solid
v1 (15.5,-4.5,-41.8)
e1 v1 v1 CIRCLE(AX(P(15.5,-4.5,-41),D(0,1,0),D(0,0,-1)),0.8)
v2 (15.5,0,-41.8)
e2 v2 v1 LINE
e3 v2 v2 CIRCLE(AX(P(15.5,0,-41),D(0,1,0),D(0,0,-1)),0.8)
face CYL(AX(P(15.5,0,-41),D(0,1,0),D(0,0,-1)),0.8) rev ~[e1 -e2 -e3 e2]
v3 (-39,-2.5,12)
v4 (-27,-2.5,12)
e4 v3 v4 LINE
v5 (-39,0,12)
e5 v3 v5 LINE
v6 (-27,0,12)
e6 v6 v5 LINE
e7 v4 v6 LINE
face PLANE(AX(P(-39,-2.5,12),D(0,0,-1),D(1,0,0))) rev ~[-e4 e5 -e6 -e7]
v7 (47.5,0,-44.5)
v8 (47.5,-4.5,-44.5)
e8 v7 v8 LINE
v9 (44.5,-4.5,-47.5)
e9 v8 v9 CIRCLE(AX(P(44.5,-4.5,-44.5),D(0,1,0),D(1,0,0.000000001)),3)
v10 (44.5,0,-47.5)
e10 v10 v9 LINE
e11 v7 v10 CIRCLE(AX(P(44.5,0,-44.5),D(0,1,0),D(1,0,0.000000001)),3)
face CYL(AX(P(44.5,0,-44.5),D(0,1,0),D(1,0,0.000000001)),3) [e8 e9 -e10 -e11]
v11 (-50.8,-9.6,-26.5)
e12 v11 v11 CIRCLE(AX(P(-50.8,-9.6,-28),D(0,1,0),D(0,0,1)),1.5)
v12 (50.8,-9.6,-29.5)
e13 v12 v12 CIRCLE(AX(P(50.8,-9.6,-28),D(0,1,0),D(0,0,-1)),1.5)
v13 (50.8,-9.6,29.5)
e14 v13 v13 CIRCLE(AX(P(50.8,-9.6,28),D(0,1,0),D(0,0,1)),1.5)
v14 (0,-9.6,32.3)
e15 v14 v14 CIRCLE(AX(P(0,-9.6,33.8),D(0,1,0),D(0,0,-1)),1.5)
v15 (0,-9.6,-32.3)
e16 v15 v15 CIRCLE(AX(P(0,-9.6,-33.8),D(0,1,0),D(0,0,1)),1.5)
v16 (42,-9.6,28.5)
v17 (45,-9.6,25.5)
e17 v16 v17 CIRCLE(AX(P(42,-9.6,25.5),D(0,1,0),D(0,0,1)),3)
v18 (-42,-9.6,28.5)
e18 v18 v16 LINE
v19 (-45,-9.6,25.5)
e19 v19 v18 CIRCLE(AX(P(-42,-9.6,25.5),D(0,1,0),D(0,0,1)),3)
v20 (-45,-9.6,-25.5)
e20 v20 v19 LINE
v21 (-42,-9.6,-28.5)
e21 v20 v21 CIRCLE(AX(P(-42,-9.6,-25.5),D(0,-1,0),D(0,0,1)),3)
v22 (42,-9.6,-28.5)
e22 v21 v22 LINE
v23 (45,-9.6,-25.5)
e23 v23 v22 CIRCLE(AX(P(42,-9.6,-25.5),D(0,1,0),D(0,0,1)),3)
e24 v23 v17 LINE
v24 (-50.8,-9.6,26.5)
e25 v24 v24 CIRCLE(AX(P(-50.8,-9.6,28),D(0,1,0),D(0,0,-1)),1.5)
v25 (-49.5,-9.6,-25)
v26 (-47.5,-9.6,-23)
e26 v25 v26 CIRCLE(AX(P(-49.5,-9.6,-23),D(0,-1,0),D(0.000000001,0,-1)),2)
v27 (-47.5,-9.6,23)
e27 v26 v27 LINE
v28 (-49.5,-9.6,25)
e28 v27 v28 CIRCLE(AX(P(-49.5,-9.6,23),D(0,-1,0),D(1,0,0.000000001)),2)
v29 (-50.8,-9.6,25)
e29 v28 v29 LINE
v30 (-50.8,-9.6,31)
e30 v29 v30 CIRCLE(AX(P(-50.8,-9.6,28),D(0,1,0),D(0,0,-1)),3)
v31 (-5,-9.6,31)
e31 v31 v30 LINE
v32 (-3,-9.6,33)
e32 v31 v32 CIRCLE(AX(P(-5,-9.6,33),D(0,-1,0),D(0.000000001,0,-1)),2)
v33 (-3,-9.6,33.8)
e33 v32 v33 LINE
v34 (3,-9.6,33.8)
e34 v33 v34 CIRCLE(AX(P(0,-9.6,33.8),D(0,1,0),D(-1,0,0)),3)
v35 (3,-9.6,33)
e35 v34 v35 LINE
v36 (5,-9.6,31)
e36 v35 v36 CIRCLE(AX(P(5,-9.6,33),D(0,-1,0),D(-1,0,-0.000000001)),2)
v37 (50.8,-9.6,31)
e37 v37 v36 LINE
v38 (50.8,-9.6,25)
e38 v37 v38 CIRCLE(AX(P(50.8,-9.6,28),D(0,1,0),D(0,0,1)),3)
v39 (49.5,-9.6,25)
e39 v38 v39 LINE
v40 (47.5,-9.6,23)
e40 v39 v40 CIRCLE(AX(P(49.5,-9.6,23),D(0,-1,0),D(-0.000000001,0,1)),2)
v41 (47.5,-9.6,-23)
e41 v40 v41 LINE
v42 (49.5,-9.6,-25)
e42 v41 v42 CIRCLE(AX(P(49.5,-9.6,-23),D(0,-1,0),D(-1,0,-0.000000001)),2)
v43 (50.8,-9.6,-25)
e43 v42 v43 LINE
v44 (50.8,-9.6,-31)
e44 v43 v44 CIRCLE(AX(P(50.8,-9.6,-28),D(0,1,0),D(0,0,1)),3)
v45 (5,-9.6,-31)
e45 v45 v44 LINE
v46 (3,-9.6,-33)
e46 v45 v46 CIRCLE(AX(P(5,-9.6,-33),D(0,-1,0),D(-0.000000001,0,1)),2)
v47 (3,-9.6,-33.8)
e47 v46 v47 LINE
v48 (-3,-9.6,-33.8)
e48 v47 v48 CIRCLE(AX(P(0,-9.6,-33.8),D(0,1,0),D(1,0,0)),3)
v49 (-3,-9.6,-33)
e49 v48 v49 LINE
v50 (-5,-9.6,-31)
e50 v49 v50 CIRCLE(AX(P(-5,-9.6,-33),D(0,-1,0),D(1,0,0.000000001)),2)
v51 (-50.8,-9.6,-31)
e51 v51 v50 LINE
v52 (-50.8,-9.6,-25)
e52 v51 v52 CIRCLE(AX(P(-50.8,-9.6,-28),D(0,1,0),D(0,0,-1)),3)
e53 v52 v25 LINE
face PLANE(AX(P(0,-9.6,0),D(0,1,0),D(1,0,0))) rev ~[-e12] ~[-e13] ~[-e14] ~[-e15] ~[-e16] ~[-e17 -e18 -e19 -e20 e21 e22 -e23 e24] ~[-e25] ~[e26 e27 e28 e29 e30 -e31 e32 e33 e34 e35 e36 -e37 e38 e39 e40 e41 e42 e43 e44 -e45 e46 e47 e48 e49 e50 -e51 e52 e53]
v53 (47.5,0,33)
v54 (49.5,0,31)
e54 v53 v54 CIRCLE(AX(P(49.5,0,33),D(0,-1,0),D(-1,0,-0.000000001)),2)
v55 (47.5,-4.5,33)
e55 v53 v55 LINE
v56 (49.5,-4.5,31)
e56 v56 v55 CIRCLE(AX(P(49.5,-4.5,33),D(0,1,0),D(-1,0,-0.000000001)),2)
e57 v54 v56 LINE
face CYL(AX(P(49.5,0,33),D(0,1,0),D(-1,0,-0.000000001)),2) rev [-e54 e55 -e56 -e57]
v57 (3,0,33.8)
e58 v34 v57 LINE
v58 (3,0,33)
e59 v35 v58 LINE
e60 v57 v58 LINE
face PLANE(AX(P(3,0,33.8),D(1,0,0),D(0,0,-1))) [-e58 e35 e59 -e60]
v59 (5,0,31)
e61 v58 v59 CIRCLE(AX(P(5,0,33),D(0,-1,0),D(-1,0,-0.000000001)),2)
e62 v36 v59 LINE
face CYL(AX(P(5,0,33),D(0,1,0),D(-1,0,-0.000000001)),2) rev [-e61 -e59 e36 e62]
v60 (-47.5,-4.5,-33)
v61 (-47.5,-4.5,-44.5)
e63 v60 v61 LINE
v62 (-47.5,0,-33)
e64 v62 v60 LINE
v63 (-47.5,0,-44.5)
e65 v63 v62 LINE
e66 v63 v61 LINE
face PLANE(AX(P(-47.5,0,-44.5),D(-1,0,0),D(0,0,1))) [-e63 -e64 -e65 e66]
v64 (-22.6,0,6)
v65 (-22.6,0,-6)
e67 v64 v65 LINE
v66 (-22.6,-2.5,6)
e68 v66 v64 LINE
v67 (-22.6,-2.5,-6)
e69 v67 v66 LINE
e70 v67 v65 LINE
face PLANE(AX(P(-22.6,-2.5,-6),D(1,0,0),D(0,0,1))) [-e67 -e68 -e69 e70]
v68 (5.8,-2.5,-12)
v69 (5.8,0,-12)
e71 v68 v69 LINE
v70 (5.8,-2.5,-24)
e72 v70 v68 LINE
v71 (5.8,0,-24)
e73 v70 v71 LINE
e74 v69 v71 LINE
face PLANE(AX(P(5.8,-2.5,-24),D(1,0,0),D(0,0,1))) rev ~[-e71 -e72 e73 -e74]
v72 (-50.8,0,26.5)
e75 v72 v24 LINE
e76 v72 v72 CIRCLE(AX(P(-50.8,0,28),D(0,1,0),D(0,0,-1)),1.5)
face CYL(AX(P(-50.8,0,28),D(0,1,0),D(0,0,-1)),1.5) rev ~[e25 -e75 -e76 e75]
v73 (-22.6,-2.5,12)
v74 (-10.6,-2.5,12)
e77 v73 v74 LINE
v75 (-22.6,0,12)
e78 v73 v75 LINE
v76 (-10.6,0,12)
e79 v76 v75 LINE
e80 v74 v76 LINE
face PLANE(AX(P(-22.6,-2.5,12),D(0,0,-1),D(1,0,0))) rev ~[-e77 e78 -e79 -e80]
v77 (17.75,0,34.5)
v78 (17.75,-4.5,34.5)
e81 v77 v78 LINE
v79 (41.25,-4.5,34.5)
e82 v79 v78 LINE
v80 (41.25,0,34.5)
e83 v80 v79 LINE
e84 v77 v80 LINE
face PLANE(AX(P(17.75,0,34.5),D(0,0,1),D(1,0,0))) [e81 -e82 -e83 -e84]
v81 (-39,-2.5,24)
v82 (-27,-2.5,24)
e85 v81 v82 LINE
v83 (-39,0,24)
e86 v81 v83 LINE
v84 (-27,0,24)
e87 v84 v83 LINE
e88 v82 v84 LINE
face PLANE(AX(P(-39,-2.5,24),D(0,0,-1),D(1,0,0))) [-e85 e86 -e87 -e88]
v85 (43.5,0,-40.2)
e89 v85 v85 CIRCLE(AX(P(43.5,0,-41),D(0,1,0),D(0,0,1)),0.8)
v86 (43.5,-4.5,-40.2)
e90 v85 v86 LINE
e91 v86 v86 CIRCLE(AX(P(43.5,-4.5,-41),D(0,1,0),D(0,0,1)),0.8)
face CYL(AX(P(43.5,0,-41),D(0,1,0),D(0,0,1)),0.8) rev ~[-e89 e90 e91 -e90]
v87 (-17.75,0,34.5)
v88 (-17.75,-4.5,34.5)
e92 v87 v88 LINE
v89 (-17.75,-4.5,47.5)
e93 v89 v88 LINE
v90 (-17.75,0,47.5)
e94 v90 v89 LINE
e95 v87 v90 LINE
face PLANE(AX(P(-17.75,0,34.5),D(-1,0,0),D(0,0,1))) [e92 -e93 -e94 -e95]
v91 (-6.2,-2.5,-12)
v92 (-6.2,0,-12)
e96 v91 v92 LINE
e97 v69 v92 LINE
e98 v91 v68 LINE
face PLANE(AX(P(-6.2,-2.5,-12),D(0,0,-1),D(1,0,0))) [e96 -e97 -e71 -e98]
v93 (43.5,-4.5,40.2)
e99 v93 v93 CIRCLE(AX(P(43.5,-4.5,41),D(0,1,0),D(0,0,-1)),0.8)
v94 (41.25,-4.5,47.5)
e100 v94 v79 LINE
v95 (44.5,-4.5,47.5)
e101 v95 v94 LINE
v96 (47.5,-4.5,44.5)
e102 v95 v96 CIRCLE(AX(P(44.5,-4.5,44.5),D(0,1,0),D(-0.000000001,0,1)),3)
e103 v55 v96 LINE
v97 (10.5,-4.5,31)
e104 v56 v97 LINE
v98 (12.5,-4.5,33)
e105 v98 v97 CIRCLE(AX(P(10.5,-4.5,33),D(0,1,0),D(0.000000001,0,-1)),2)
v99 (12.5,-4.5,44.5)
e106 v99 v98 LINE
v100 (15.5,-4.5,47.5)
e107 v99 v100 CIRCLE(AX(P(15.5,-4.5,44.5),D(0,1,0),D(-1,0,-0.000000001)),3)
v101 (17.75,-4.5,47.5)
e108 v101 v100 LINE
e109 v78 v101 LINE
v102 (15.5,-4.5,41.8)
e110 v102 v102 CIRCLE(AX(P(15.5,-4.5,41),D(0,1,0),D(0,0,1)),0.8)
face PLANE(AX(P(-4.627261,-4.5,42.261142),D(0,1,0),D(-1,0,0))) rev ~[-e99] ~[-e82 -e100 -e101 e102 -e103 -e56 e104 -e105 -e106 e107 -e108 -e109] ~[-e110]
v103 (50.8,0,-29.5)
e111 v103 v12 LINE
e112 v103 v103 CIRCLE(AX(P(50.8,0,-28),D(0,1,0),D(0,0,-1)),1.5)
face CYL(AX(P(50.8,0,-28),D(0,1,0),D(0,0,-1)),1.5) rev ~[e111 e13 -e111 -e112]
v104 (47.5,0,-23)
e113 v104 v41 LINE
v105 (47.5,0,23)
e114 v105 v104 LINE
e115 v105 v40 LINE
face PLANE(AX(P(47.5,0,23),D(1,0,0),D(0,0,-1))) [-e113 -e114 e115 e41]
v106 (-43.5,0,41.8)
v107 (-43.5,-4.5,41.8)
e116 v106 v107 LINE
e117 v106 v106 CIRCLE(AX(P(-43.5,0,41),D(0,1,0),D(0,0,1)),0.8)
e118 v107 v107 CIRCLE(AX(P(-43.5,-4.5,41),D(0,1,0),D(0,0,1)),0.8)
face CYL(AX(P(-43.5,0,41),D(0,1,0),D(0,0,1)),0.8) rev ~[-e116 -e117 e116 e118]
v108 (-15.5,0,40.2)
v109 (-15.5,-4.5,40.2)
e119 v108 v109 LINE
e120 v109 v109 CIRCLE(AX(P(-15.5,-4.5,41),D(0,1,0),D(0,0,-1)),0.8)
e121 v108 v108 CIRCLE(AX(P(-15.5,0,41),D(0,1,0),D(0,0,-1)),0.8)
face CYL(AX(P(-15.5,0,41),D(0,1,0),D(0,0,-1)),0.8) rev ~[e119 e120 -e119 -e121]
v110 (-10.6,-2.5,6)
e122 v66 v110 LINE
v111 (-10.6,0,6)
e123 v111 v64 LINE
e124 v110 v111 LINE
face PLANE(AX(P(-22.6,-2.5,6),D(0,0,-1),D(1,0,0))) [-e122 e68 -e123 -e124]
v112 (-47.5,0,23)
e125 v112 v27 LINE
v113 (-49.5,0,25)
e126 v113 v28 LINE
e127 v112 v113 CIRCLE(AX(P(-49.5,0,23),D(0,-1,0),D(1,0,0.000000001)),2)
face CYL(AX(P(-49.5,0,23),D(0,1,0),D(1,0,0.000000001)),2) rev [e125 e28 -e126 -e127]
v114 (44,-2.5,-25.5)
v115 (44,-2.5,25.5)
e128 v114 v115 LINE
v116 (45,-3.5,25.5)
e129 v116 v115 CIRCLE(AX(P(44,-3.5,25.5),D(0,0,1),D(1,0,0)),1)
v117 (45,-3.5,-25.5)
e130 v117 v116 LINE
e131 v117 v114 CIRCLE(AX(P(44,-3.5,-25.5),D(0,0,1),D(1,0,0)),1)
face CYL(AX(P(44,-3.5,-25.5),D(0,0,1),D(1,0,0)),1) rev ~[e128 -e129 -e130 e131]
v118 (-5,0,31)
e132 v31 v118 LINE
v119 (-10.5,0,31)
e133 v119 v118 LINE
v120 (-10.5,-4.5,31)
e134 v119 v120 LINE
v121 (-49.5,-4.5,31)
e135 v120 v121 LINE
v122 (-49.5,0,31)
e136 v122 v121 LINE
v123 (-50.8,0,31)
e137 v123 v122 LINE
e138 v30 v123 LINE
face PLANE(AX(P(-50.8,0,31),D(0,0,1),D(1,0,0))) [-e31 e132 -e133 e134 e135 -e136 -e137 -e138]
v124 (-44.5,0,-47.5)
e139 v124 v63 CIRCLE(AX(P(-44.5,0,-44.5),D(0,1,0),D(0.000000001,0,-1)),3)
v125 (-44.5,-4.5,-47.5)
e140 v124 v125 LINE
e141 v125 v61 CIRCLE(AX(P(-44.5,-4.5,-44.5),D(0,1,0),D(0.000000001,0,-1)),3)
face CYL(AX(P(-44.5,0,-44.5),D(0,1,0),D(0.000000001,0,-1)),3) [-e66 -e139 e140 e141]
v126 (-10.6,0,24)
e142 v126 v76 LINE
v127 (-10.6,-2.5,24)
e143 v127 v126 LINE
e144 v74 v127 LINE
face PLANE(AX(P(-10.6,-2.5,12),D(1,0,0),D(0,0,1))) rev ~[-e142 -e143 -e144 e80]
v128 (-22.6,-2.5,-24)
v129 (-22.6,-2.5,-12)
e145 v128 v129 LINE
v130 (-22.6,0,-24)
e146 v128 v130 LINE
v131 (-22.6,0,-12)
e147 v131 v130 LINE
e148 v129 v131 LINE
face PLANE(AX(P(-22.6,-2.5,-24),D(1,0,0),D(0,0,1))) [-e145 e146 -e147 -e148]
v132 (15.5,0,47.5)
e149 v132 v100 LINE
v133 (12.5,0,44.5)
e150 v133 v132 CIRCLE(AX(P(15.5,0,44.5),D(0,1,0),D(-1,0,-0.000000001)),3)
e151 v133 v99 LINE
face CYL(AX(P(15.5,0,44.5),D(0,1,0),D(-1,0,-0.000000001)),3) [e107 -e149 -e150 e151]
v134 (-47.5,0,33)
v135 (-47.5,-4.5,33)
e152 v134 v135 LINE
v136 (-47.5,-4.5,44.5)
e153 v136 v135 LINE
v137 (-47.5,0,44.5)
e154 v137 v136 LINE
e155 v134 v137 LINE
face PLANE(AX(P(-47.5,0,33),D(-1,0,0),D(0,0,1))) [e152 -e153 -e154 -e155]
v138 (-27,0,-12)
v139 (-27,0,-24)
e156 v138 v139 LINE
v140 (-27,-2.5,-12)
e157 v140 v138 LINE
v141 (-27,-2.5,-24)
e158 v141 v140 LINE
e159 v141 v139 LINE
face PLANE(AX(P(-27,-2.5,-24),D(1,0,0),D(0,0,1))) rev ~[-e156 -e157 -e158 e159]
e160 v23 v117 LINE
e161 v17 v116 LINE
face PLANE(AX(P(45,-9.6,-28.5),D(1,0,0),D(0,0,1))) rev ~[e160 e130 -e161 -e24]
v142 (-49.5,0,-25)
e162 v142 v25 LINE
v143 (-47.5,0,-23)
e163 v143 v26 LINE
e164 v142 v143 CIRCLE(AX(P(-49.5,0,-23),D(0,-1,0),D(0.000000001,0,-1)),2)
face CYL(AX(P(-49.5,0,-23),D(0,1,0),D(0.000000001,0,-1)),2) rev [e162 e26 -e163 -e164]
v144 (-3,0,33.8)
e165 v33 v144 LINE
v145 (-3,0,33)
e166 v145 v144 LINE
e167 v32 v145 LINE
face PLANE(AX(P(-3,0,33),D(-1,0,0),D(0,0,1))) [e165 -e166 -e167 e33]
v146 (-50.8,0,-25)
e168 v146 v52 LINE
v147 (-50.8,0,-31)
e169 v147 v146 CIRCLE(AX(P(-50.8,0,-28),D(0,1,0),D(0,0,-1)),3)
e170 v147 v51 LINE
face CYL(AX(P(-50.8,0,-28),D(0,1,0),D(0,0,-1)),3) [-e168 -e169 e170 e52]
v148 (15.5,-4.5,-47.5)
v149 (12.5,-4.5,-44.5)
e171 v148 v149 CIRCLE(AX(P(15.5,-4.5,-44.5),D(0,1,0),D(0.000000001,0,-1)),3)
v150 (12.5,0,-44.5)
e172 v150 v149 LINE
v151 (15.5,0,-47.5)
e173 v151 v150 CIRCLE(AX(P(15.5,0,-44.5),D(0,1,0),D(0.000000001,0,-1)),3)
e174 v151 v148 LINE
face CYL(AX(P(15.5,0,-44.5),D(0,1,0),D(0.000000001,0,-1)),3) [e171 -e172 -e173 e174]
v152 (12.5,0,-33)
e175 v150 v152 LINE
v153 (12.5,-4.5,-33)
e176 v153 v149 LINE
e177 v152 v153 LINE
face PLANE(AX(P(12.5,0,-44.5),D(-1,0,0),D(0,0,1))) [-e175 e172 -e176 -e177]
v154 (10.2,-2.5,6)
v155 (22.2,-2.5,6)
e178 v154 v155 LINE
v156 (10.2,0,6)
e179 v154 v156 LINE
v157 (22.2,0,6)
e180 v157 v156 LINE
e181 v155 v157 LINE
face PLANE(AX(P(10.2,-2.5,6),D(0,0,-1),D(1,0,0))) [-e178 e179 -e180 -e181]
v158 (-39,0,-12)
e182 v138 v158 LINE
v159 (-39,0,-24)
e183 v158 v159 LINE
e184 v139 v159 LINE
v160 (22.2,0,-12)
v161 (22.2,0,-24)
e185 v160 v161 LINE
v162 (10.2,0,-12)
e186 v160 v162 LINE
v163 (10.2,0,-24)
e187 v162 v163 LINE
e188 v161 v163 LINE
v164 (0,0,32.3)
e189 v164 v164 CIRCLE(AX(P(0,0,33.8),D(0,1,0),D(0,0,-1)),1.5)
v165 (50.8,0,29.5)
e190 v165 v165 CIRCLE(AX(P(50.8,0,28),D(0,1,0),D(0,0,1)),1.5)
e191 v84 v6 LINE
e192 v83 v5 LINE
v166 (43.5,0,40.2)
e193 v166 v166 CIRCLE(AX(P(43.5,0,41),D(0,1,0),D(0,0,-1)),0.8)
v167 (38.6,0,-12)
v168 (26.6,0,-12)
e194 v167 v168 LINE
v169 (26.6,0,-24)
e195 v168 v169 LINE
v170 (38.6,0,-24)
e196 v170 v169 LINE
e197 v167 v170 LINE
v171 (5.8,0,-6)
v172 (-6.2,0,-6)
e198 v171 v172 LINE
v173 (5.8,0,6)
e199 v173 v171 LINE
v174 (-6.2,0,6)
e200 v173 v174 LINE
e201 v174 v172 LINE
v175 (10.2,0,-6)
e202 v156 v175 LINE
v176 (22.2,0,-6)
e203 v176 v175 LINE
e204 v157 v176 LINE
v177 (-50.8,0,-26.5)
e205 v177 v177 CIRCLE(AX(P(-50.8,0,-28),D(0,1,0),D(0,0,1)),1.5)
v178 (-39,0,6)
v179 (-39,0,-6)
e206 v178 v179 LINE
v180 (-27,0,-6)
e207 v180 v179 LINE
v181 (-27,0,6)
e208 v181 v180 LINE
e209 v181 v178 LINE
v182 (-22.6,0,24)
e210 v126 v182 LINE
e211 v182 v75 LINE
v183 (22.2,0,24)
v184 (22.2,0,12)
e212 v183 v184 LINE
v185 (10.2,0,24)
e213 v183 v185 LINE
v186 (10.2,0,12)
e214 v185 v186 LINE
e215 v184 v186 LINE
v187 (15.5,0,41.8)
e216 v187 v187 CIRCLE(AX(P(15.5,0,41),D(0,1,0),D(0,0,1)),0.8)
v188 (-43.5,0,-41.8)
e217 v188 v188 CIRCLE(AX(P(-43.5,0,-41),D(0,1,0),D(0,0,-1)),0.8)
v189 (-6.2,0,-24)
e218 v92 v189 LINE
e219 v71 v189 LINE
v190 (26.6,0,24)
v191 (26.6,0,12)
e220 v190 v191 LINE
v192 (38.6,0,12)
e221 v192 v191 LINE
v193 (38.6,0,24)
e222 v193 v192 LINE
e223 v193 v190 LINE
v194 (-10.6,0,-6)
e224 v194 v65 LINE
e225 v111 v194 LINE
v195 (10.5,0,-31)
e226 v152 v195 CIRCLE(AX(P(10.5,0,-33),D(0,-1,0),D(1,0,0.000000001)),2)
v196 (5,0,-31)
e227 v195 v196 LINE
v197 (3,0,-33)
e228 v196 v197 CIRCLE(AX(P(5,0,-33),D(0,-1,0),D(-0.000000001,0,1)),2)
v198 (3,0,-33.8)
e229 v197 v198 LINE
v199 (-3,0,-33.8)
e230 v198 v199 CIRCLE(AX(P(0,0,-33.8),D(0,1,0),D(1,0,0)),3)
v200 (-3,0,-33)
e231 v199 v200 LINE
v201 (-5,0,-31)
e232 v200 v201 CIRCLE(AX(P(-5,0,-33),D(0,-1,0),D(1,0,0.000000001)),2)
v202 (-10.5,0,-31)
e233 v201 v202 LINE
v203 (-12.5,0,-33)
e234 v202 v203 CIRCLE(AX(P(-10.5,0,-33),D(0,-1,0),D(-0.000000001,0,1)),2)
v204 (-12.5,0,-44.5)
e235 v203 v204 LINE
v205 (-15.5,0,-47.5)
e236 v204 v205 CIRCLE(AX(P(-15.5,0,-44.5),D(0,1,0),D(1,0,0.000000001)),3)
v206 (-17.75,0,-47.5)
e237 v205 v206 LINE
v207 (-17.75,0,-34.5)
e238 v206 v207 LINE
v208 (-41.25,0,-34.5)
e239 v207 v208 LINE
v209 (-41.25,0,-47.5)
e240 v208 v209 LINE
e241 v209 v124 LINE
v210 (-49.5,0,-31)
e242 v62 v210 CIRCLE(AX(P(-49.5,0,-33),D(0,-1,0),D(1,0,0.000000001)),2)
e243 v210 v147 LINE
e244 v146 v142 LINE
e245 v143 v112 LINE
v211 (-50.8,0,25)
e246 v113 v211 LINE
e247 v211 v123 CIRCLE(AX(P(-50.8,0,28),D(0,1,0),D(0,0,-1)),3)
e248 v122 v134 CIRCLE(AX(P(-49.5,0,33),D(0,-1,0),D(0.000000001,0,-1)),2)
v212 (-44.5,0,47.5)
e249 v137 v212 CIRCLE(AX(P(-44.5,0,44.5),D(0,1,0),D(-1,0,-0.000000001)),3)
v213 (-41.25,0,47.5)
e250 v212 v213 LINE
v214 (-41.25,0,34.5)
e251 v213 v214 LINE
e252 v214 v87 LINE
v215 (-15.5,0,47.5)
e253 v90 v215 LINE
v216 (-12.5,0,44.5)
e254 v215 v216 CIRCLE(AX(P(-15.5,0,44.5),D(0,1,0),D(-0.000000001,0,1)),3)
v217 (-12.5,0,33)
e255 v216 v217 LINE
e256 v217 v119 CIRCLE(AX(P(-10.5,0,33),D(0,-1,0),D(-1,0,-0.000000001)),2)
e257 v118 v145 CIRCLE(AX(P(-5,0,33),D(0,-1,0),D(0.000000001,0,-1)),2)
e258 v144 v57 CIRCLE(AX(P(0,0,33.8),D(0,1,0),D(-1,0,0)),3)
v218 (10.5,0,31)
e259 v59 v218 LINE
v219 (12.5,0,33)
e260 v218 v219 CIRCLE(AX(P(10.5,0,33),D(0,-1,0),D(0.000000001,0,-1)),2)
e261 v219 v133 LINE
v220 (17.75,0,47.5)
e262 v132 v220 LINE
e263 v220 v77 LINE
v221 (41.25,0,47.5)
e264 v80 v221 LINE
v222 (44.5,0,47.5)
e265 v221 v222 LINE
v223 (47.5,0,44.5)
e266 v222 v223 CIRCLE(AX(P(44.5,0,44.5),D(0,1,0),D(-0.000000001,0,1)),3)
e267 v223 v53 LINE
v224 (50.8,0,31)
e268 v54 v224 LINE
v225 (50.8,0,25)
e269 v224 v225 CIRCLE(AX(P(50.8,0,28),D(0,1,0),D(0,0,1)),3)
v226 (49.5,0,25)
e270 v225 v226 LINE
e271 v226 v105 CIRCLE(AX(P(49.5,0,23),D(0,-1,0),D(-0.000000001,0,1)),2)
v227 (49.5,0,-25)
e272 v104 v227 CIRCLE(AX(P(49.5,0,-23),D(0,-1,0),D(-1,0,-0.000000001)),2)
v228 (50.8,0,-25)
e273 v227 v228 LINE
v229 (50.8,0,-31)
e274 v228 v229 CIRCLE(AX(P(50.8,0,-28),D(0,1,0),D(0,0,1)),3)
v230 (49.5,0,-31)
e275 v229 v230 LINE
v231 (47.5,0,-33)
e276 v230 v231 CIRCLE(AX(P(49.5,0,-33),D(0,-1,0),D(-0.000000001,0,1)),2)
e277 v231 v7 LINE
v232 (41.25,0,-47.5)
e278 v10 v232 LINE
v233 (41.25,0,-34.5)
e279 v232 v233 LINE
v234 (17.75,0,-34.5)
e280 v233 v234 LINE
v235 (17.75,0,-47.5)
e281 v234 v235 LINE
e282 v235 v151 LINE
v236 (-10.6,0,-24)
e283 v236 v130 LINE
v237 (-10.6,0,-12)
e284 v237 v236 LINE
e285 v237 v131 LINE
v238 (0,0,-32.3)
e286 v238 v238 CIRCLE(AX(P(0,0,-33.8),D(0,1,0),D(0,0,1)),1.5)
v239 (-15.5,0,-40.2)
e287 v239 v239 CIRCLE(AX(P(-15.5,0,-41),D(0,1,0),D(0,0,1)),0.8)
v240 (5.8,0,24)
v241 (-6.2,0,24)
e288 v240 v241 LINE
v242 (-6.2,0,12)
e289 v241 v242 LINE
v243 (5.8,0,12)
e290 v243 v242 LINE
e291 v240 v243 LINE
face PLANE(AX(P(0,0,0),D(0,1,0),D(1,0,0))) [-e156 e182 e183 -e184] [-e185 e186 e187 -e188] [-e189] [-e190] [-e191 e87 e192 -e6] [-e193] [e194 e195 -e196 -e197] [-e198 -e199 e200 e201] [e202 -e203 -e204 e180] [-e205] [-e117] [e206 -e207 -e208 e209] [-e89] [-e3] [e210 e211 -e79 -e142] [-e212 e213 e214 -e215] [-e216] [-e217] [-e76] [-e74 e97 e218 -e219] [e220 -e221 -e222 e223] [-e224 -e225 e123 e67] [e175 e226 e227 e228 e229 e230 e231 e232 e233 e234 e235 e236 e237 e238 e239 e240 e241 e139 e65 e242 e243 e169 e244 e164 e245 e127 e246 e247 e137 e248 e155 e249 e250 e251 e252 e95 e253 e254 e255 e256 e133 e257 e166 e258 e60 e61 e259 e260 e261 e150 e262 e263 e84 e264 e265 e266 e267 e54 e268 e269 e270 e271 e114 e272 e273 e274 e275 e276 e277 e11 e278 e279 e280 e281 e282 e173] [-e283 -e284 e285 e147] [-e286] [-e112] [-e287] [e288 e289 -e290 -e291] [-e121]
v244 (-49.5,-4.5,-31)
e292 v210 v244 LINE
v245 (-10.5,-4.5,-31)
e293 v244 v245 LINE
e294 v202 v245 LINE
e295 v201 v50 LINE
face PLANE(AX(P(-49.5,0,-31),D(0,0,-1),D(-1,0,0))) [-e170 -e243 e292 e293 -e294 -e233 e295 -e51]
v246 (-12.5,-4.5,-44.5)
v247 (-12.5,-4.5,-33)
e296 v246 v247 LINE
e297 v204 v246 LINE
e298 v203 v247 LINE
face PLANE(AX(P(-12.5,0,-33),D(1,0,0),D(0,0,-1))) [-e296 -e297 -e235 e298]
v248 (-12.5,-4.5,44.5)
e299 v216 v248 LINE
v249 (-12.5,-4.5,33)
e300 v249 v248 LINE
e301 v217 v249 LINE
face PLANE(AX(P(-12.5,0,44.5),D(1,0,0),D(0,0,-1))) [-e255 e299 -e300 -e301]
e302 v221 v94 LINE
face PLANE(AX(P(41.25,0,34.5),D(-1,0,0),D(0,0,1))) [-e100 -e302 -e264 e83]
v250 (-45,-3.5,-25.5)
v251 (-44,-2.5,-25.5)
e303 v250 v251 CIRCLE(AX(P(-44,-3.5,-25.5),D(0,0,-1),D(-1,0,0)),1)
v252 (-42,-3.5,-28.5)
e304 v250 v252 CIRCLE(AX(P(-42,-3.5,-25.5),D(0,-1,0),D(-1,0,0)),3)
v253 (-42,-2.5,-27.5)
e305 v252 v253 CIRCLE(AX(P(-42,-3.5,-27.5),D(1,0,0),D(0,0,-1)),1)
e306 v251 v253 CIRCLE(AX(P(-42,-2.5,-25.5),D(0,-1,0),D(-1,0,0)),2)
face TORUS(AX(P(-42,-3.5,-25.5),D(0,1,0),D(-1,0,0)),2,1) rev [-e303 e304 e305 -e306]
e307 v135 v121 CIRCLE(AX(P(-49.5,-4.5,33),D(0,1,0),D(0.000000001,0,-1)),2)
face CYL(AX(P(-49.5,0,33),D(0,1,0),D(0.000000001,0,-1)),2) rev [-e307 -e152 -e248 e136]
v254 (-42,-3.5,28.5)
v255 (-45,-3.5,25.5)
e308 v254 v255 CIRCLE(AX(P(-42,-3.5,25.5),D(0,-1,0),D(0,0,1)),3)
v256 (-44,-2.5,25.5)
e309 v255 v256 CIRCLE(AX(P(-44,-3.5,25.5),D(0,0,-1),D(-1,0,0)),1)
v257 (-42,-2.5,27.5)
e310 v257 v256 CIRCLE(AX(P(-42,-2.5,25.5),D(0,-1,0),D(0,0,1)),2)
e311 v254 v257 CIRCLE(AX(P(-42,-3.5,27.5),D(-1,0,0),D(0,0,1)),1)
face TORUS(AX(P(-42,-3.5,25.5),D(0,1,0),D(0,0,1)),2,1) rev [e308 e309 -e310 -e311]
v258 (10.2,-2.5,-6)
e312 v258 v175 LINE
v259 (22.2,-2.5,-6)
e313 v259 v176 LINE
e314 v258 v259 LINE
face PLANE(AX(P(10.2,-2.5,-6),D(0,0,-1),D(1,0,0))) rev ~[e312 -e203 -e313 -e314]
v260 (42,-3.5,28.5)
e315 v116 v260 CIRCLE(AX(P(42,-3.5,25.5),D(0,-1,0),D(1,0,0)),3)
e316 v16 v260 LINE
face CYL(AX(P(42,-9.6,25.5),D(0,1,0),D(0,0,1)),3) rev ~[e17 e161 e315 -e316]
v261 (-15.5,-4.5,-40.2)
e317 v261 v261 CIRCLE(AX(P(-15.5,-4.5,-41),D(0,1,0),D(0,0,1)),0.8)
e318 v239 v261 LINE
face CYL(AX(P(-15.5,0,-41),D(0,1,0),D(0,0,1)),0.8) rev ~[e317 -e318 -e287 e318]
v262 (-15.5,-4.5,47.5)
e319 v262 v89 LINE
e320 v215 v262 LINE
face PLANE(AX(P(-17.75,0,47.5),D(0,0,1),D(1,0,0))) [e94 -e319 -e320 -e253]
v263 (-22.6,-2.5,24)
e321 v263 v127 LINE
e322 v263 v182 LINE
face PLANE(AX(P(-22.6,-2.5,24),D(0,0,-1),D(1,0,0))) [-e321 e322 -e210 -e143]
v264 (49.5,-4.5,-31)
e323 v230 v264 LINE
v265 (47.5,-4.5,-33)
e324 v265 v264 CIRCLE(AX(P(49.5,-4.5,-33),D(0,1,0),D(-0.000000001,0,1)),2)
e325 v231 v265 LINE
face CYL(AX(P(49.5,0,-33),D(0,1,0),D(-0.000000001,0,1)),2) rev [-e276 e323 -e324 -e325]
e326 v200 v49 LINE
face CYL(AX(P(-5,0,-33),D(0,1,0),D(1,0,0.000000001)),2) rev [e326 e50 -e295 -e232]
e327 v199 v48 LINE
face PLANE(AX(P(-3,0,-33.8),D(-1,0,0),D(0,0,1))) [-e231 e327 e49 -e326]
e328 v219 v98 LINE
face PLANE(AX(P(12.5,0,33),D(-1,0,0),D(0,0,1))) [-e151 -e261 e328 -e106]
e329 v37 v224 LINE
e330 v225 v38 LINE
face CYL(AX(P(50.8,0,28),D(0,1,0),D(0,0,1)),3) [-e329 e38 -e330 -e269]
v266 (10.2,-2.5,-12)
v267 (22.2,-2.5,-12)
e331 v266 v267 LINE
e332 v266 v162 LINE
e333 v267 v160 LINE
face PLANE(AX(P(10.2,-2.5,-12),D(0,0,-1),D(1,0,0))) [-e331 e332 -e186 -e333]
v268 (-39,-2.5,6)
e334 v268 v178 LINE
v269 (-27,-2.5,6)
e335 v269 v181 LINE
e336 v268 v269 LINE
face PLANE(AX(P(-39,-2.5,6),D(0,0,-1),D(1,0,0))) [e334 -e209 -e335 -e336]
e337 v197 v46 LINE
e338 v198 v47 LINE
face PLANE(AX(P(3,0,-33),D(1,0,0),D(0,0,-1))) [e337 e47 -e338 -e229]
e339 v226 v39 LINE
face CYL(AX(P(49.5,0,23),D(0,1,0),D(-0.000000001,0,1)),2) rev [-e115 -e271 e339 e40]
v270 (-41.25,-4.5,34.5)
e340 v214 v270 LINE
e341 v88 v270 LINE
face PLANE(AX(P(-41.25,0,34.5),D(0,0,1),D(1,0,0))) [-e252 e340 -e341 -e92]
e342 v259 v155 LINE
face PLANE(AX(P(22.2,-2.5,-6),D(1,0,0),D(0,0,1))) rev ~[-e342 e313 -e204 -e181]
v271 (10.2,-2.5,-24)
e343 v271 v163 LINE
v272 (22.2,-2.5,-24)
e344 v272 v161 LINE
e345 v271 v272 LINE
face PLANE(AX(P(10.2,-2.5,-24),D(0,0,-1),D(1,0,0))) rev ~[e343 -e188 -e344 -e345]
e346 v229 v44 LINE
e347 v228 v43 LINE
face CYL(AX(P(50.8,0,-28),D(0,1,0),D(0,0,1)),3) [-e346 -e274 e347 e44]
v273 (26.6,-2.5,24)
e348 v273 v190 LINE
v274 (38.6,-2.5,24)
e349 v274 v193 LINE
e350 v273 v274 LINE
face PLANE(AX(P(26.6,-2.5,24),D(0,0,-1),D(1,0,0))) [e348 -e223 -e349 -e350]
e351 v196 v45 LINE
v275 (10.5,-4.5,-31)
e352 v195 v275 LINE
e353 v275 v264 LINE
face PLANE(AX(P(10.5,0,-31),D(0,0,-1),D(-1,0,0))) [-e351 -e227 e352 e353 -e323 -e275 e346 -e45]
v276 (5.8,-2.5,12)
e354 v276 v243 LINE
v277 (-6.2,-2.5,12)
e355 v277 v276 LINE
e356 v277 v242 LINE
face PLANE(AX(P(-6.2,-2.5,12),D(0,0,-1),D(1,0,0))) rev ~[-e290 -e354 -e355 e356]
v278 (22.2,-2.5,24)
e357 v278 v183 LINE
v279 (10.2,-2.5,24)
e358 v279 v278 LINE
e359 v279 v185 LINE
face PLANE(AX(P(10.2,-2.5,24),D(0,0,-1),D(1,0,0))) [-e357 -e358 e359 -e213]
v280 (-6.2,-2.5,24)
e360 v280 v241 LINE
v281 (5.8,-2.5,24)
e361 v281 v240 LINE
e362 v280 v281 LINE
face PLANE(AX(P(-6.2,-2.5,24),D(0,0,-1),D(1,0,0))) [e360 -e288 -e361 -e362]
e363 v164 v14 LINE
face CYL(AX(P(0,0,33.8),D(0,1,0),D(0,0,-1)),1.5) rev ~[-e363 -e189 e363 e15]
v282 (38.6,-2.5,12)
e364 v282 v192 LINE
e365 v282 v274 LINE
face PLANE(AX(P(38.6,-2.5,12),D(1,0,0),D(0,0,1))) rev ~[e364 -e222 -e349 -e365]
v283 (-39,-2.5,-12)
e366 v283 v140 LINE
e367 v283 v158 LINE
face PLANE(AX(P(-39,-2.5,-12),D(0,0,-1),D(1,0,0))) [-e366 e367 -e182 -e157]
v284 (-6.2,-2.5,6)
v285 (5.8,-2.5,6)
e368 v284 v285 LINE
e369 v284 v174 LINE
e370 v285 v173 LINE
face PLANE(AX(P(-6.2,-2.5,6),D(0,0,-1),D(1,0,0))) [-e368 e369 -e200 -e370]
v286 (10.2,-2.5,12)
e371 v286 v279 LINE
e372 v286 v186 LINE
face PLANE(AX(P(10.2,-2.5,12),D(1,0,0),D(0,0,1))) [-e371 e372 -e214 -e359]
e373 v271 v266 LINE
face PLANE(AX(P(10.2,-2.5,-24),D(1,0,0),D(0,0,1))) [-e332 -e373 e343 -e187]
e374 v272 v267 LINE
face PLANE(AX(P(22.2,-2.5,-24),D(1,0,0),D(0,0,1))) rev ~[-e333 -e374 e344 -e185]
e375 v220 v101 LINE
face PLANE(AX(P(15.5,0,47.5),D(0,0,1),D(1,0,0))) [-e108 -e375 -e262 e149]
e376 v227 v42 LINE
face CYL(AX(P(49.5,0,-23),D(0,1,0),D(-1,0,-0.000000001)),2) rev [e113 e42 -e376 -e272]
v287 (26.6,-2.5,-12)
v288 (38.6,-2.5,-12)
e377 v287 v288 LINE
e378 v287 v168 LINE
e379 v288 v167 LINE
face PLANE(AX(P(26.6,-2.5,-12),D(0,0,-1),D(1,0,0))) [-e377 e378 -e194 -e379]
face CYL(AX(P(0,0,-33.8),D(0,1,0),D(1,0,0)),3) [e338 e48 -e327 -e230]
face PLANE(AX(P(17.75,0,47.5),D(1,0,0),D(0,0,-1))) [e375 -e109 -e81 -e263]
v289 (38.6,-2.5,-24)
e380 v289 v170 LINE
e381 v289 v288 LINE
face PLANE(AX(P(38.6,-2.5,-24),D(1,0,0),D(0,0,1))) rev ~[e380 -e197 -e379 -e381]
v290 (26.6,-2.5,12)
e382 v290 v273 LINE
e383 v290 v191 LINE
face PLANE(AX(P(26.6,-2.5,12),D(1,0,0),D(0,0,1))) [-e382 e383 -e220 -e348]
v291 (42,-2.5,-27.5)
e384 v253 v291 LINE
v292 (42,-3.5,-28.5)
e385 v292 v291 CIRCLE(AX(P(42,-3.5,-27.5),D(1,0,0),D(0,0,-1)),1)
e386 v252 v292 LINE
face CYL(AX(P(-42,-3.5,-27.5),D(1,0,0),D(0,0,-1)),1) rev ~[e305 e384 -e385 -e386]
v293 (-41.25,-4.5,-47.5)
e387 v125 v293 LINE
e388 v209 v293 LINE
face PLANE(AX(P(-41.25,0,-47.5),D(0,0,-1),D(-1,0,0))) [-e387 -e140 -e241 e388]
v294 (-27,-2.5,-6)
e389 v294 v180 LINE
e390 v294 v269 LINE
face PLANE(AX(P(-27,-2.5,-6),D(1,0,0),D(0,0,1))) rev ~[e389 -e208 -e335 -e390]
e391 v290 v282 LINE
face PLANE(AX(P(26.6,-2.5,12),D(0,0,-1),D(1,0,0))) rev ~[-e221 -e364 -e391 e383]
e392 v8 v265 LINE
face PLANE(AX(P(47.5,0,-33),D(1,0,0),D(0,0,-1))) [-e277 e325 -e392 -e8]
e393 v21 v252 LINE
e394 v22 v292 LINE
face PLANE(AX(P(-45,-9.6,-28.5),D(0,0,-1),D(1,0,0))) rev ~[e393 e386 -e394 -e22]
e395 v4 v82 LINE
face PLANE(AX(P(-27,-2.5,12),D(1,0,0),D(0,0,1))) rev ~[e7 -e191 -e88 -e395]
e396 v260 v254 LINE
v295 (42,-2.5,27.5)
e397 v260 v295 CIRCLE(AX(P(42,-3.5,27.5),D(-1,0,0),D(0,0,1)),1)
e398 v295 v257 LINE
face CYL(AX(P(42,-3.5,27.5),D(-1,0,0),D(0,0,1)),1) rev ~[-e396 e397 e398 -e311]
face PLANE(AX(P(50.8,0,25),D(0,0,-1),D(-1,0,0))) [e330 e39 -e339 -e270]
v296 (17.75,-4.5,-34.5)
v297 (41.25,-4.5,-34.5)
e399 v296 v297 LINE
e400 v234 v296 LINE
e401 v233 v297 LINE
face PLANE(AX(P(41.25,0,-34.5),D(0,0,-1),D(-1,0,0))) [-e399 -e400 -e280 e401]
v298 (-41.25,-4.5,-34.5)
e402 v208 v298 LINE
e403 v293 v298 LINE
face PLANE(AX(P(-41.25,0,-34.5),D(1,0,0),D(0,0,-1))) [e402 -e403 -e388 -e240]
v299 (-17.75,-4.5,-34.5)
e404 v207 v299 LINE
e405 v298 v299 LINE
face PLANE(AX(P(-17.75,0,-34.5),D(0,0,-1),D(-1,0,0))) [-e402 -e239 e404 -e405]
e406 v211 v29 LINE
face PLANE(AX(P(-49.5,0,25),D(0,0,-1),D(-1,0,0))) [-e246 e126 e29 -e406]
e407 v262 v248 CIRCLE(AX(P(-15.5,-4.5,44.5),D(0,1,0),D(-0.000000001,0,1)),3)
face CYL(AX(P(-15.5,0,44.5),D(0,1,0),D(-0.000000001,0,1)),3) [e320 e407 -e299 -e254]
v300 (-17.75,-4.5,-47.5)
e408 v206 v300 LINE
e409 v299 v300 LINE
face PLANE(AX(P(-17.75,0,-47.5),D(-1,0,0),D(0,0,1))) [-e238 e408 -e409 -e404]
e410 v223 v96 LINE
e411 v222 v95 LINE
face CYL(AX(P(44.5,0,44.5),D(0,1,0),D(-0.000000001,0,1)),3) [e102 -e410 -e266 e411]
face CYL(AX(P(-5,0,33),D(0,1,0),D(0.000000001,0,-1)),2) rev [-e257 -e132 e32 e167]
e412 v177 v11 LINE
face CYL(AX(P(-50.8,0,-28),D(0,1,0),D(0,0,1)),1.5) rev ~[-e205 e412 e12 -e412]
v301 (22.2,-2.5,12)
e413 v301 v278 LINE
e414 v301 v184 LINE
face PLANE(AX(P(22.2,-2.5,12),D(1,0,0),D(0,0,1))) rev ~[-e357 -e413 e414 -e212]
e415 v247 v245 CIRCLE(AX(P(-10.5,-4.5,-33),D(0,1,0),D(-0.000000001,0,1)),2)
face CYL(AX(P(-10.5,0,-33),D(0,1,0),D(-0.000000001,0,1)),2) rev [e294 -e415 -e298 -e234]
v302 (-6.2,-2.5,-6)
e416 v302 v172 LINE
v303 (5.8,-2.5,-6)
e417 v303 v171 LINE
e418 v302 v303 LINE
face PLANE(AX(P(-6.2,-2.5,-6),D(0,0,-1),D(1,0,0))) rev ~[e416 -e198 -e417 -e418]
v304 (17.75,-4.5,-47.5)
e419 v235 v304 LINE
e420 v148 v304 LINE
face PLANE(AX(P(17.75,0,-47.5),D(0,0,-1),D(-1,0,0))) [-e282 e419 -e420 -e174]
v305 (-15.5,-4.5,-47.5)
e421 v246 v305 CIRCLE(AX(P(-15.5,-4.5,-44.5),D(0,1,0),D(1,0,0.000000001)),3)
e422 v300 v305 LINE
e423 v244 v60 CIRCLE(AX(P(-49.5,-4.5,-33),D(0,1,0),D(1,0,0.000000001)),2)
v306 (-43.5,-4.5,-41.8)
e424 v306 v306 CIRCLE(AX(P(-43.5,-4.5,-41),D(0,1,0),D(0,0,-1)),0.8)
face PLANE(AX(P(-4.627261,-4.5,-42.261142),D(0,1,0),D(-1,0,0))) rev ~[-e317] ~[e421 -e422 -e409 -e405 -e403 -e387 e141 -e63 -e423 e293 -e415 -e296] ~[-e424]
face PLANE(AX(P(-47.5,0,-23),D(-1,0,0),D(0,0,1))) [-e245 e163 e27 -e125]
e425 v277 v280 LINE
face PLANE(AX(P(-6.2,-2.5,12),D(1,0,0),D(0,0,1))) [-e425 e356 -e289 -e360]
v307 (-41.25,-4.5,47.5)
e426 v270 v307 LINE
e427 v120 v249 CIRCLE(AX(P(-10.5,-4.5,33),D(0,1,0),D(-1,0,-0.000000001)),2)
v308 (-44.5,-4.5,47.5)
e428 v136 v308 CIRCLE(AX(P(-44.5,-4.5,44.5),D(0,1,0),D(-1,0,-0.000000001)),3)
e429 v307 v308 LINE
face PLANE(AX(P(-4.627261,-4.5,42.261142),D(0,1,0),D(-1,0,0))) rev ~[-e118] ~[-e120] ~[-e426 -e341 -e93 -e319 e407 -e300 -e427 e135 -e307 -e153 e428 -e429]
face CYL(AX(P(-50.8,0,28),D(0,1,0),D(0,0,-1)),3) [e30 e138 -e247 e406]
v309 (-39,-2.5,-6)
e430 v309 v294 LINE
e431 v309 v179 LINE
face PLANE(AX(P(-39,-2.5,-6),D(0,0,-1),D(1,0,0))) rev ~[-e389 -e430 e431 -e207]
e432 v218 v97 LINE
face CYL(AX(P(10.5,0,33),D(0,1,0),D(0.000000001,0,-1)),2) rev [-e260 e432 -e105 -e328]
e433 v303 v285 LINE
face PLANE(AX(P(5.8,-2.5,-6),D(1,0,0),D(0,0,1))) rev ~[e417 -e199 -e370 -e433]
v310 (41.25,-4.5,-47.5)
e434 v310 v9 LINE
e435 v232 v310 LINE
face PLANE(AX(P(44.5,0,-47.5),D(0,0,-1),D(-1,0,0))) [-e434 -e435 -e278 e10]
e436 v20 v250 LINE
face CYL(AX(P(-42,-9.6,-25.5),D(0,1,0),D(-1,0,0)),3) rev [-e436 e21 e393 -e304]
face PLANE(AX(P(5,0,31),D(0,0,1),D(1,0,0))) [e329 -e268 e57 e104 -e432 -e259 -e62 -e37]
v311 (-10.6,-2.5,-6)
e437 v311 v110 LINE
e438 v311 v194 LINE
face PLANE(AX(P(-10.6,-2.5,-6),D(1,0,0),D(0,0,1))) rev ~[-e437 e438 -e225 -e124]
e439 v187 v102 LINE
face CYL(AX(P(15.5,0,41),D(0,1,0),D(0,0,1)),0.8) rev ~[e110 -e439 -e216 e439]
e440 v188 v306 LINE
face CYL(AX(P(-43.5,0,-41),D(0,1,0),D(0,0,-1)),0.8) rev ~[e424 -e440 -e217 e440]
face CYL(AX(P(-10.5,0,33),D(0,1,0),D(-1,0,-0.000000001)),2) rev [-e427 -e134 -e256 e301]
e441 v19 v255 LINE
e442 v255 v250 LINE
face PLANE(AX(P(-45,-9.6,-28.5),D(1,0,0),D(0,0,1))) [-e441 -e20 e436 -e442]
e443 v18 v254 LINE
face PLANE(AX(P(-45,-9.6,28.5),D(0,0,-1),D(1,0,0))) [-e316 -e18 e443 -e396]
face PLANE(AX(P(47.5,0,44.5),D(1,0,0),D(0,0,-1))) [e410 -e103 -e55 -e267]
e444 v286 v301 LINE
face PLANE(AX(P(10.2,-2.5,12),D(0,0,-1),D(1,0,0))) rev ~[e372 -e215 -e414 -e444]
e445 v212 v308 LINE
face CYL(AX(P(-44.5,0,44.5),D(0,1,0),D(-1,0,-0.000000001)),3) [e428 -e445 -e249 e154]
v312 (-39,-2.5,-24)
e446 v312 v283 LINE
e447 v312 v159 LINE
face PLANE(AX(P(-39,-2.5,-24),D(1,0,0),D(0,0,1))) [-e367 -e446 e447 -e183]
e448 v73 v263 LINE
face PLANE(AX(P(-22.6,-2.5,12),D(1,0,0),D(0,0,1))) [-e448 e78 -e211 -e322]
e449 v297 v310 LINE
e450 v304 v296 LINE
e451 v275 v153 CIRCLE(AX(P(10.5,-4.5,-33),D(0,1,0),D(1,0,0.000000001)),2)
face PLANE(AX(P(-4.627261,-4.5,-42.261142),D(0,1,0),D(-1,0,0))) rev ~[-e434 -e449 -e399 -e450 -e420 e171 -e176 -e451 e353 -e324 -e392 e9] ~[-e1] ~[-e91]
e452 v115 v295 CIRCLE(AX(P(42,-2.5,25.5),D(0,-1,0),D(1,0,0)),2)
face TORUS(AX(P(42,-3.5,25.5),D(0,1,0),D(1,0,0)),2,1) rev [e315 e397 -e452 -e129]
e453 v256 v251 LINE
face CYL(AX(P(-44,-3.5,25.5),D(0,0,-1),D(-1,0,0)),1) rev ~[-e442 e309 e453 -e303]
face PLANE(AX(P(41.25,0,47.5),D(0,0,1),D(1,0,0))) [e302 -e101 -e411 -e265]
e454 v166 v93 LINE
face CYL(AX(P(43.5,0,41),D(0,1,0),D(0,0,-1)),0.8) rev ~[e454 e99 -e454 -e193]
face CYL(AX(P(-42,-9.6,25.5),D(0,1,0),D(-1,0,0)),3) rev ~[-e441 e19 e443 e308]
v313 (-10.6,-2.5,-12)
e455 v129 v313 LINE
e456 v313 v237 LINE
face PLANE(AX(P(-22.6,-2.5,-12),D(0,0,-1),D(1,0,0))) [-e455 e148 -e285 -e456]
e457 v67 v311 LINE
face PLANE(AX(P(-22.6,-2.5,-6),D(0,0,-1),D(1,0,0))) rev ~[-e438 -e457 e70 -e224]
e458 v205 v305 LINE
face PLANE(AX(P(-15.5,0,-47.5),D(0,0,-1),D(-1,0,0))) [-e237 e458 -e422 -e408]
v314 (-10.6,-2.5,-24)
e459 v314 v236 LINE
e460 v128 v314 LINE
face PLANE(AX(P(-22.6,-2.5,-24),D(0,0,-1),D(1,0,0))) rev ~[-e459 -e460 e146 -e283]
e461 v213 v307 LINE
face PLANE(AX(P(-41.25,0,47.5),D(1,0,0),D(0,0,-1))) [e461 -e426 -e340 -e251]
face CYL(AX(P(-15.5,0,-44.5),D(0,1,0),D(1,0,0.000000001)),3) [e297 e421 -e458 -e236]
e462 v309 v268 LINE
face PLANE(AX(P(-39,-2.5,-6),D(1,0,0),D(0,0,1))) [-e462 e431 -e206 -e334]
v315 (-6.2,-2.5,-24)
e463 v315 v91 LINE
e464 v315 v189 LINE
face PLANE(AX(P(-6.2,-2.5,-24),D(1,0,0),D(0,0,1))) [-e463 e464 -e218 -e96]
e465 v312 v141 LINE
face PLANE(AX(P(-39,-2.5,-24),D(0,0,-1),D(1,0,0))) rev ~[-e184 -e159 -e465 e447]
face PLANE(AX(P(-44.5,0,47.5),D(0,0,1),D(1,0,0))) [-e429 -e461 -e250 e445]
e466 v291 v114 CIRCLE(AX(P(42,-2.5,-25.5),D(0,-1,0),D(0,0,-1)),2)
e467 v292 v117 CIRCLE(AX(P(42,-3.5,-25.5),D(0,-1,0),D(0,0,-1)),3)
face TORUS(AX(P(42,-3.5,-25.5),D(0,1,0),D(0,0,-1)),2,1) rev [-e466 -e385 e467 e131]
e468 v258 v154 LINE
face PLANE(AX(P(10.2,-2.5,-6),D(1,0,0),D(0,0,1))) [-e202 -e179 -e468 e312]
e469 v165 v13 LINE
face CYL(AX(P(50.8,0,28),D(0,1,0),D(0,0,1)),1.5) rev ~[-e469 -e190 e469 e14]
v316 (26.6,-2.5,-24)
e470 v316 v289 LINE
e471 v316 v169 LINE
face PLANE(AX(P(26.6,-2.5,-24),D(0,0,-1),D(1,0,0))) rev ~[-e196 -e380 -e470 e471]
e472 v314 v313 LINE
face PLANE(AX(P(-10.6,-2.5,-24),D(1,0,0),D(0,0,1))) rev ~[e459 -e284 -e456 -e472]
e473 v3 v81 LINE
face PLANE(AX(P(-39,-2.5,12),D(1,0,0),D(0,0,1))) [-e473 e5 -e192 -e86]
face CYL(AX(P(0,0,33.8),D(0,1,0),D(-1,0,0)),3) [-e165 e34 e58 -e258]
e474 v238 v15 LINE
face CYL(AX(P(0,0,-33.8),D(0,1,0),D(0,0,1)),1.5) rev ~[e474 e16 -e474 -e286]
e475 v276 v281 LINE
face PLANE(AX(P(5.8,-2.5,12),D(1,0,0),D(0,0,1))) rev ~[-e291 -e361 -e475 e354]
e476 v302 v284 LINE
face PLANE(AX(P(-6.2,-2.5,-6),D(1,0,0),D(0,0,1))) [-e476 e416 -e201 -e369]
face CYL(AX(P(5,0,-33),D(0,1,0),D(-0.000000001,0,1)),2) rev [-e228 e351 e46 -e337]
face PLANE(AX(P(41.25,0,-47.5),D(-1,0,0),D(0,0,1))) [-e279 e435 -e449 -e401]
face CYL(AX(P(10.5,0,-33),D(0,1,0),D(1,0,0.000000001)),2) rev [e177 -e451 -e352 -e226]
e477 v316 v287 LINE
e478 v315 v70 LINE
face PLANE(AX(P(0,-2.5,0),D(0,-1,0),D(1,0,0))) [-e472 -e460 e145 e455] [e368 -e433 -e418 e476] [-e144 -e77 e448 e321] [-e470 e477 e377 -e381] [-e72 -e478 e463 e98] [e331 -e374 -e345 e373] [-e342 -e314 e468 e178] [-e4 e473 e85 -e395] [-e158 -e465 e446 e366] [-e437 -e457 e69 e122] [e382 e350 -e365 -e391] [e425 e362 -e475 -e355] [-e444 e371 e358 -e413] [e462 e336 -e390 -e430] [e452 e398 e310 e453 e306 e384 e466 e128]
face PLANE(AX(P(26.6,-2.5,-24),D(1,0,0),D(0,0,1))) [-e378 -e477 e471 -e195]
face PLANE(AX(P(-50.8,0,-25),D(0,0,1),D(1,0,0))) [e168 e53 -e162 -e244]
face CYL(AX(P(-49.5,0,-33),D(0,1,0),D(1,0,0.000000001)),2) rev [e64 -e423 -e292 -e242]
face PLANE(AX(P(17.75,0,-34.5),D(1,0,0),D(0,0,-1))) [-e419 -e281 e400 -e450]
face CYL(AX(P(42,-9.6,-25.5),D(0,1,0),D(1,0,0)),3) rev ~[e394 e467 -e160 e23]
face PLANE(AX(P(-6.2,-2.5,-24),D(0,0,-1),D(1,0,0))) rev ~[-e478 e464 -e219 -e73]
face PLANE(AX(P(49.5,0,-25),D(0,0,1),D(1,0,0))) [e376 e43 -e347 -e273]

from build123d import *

# Parameters (mm, degrees)
SKETCH_1_R          = 1.5
SKETCH_1_R_2        = 0.8
EXTRUDE_1_DEPTH     = 9.6
CUT_EXTRUDE_START   = -5.1
CUT_EXTRUDE_1_DEPTH = 5.1
SKETCH_3_W          = 90
SKETCH_3_H          = 57
CUT_EXTRUDE_2_DEPTH = 7.1
FILLET_1_R          = 3
FILLET_2_R          = 1
SKETCH_13_W         = 12
SKETCH_13_H         = 12
CUT_EXTRUDE_3_DEPTH = 73.118652234


with BuildPart() as part:
    # 草图1 → 凸台-拉伸1 (new body)
    with BuildSketch(Plane(origin=(0, 0, 0), x_dir=(1, 0, 0), z_dir=(0, 1, 0))):
        with BuildLine():
            Line((-47.5, 23), (-47.5, -23))
            ThreePointArc((-47.5, -23), (-48.085786438, -24.414213562), (-49.5, -25))
            Line((-49.5, -25), (-50.8, -25))
            ThreePointArc((-50.8, -25), (-53.8, -28), (-50.8, -31))
            Line((-50.8, -31), (-49.5, -31))
            ThreePointArc((-49.5, -31), (-48.085786438, -31.585786438), (-47.5, -33))
            Line((-47.5, -33), (-47.5, -44.5))
            ThreePointArc((-47.5, -44.5), (-46.621320344, -46.621320344), (-44.5, -47.5))
            Line((-44.5, -47.5), (-41.25, -47.5))
            Line((-41.25, -47.5), (-41.25, -34.5))
            Line((-41.25, -34.5), (-17.75, -34.5))
            Line((-17.75, -34.5), (-17.75, -47.5))
            Line((-17.75, -47.5), (-15.5, -47.5))
            ThreePointArc((-15.5, -47.5), (-13.378679656, -46.621320344), (-12.5, -44.5))
            Line((-12.5, -44.5), (-12.5, -33))
            ThreePointArc((-12.5, -33), (-11.914213562, -31.585786438), (-10.5, -31))
            Line((-10.5, -31), (-5, -31))
            ThreePointArc((-5, -31), (-3.585786438, -31.585786438), (-3, -33))
            Line((-3, -33), (-3, -33.8))
            ThreePointArc((-3, -33.8), (0, -36.8), (3, -33.8))
            Line((3, -33.8), (3, -33))
            ThreePointArc((3, -33), (3.585786438, -31.585786438), (5, -31))
            Line((5, -31), (10.5, -31))
            ThreePointArc((10.5, -31), (11.914213562, -31.585786438), (12.5, -33))
            Line((12.5, -33), (12.5, -44.5))
            ThreePointArc((12.5, -44.5), (13.378679656, -46.621320344), (15.5, -47.5))
            Line((15.5, -47.5), (17.75, -47.5))
            Line((17.75, -47.5), (17.75, -34.5))
            Line((17.75, -34.5), (41.25, -34.5))
            Line((41.25, -34.5), (41.25, -47.5))
            Line((41.25, -47.5), (44.5, -47.5))
            ThreePointArc((44.5, -47.5), (46.621320344, -46.621320344), (47.5, -44.5))
            Line((47.5, -44.5), (47.5, -33))
            ThreePointArc((47.5, -33), (48.085786438, -31.585786438), (49.5, -31))
            Line((49.5, -31), (50.8, -31))
            ThreePointArc((50.8, -31), (53.8, -28), (50.8, -25))
            Line((50.8, -25), (49.5, -25))
            ThreePointArc((49.5, -25), (48.085786438, -24.414213562), (47.5, -23))
            Line((47.5, -23), (47.5, 23))
            ThreePointArc((47.5, 23), (48.085786438, 24.414213562), (49.5, 25))
            Line((49.5, 25), (50.8, 25))
            ThreePointArc((50.8, 25), (53.8, 28), (50.8, 31))
            Line((50.8, 31), (49.5, 31))
            ThreePointArc((49.5, 31), (48.085786438, 31.585786438), (47.5, 33))
            Line((47.5, 33), (47.5, 44.5))
            ThreePointArc((47.5, 44.5), (46.621320344, 46.621320344), (44.5, 47.5))
            Line((44.5, 47.5), (41.25, 47.5))
            Line((41.25, 47.5), (41.25, 34.5))
            Line((41.25, 34.5), (17.75, 34.5))
            Line((17.75, 34.5), (17.75, 47.5))
            Line((17.75, 47.5), (15.5, 47.5))
            ThreePointArc((15.5, 47.5), (13.378679656, 46.621320344), (12.5, 44.5))
            Line((12.5, 44.5), (12.5, 33))
            ThreePointArc((12.5, 33), (11.914213562, 31.585786438), (10.5, 31))
            Line((10.5, 31), (5, 31))
            ThreePointArc((5, 31), (3.585786438, 31.585786438), (3, 33))
            Line((3, 33), (3, 33.8))
            ThreePointArc((3, 33.8), (0, 36.8), (-3, 33.8))
            Line((-3, 33.8), (-3, 33))
            ThreePointArc((-3, 33), (-3.585786438, 31.585786438), (-5, 31))
            Line((-5, 31), (-10.5, 31))
            ThreePointArc((-10.5, 31), (-11.914213562, 31.585786438), (-12.5, 33))
            Line((-12.5, 33), (-12.5, 44.5))
            ThreePointArc((-12.5, 44.5), (-13.378679656, 46.621320344), (-15.5, 47.5))
            Line((-15.5, 47.5), (-17.75, 47.5))
            Line((-17.75, 47.5), (-17.75, 34.5))
            Line((-17.75, 34.5), (-41.25, 34.5))
            Line((-41.25, 34.5), (-41.25, 47.5))
            Line((-41.25, 47.5), (-44.5, 47.5))
            ThreePointArc((-44.5, 47.5), (-46.621320344, 46.621320344), (-47.5, 44.5))
            Line((-47.5, 44.5), (-47.5, 33))
            ThreePointArc((-47.5, 33), (-48.085786438, 31.585786438), (-49.5, 31))
            Line((-49.5, 31), (-50.8, 31))
            ThreePointArc((-50.8, 31), (-53.8, 28), (-50.8, 25))
            Line((-50.8, 25), (-49.5, 25))
            ThreePointArc((-49.5, 25), (-48.085786438, 24.414213562), (-47.5, 23))
        make_face()
        with Locations(Location((-50.8, 28, 0), (0, 0, 270))):
            Circle(SKETCH_1_R, mode=Mode.SUBTRACT)
        with Locations(Location((50.8, 28, 0), (0, 0, 90))):
            Circle(SKETCH_1_R, mode=Mode.SUBTRACT)
        with Locations(Location((50.8, -28, 0), (0, 0, 270))):
            Circle(SKETCH_1_R, mode=Mode.SUBTRACT)
        with Locations(Location((-50.8, -28, 0), (0, 0, 90))):
            Circle(SKETCH_1_R, mode=Mode.SUBTRACT)
        with Locations(Location((0, 33.8, 0), (0, 0, 270))):
            Circle(SKETCH_1_R, mode=Mode.SUBTRACT)
        with Locations(Location((0, -33.8, 0), (0, 0, 90))):
            Circle(SKETCH_1_R, mode=Mode.SUBTRACT)
        with Locations(Location((43.5, 41, 0), (0, 0, 270))):
            Circle(SKETCH_1_R_2, mode=Mode.SUBTRACT)
        with Locations(Location((15.5, 41, 0), (0, 0, 90))):
            Circle(SKETCH_1_R_2, mode=Mode.SUBTRACT)
        with Locations(Location((43.5, -41, 0), (0, 0, 90))):
            Circle(SKETCH_1_R_2, mode=Mode.SUBTRACT)
        with Locations(Location((15.5, -41, 0), (0, 0, 270))):
            Circle(SKETCH_1_R_2, mode=Mode.SUBTRACT)
        with Locations(Location((-15.5, -41, 0), (0, 0, 90))):
            Circle(SKETCH_1_R_2, mode=Mode.SUBTRACT)
        with Locations(Location((-43.5, -41, 0), (0, 0, 270))):
            Circle(SKETCH_1_R_2, mode=Mode.SUBTRACT)
        with Locations(Location((-43.5, 41, 0), (0, 0, 90))):
            Circle(SKETCH_1_R_2, mode=Mode.SUBTRACT)
        with Locations(Location((-15.5, 41, 0), (0, 0, 270))):
            Circle(SKETCH_1_R_2, mode=Mode.SUBTRACT)
    extrude(amount=-EXTRUDE_1_DEPTH)

    # 草图2 → 切除-拉伸1 (cut)
    with BuildSketch(Plane.XZ.offset(9.6).offset(CUT_EXTRUDE_START)):
        with BuildLine():
            Line((63.557901373, 31), (5, 31))
            ThreePointArc((5, 31), (3.585786438, 31.585786438), (3, 33))
            Line((3, 33), (3, 33.8))
            ThreePointArc((3, 33.8), (0, 36.8), (-3, 33.8))
            Line((-3, 33.8), (-3, 33))
            ThreePointArc((-3, 33), (-3.585786438, 31.585786438), (-5, 31))
            Line((-5, 31), (-73.010332056, 31))
            Line((-73.010332056, 31), (-73.010332056, 53.694218021))
            Line((-73.010332056, 53.694218021), (63.557901373, 53.694218021))
            Line((63.557901373, 53.694218021), (63.557901373, 31))
        make_face()
        with BuildLine():
            Line((63.557901373, -31), (63.557901373, -53.694218021))
            Line((63.557901373, -53.694218021), (-73.010332056, -53.694218021))
            Line((-73.010332056, -53.694218021), (-73.010332056, -31))
            Line((-73.010332056, -31), (-5, -31))
            ThreePointArc((-5, -31), (-3.585786438, -31.585786438), (-3, -33))
            Line((-3, -33), (-3, -33.8))
            ThreePointArc((-3, -33.8), (0, -36.8), (3, -33.8))
            Line((3, -33.8), (3, -33))
            ThreePointArc((3, -33), (3.585786438, -31.585786438), (5, -31))
            Line((5, -31), (63.557901373, -31))
        make_face()
    extrude(amount=CUT_EXTRUDE_1_DEPTH, mode=Mode.SUBTRACT)

    # 草图3 → 切除-拉伸2 (cut)
    with BuildSketch(Plane.XZ.offset(9.6)):
        Rectangle(SKETCH_3_W, SKETCH_3_H)
    extrude(amount=-CUT_EXTRUDE_2_DEPTH, mode=Mode.SUBTRACT)

    # 圆角1
    fillet_1_edges = [part.edges().sort_by_distance(p)[0] for p in [
        (45, -6.05, 28.5),
        (45, -6.05, -28.5),
        (-45, -6.05, -28.5),
        (-45, -6.05, 28.5),
    ]]
    fillet(fillet_1_edges, radius=FILLET_1_R)

    # 圆角2
    fillet_2_edges = [part.edges().sort_by_distance(p)[0] for p in [
        (0, -2.5, -28.5),
        (-45, -2.5, 0),
        (45, -2.5, 0),
        (0, -2.5, 28.5),
        (44.121320344, -2.5, 27.621320344),
        (44.121320344, -2.5, -27.621320344),
        (-44.121320344, -2.5, 27.621320344),
        (-44.121320344, -2.5, -27.621320344),
    ]]
    fillet(fillet_2_edges, radius=FILLET_2_R)

    # 草图13 → 切除-拉伸3 (cut, through all)
    with BuildSketch(Plane.XZ.offset(2.5)):
        with Locations((-33, 18)):
            Rectangle(SKETCH_13_W, SKETCH_13_H)
        with Locations((-16.6, 18)):
            Rectangle(SKETCH_13_W, SKETCH_13_H)
        with Locations((-0.2, 18)):
            Rectangle(SKETCH_13_W, SKETCH_13_H)
        with Locations((16.2, 18)):
            Rectangle(SKETCH_13_W, SKETCH_13_H)
        with Locations((32.6, 18)):
            Rectangle(SKETCH_13_W, SKETCH_13_H)
        with Locations((-16.6, 0)):
            Rectangle(SKETCH_13_W, SKETCH_13_H)
        with Locations((-0.2, 0)):
            Rectangle(SKETCH_13_W, SKETCH_13_H)
        with Locations((16.2, 0)):
            Rectangle(SKETCH_13_W, SKETCH_13_H)
        with Locations((-16.6, -18)):
            Rectangle(SKETCH_13_W, SKETCH_13_H)
        with Locations((-0.2, -18)):
            Rectangle(SKETCH_13_W, SKETCH_13_H)
        with Locations((16.2, -18)):
            Rectangle(SKETCH_13_W, SKETCH_13_H)
        with Locations((32.6, -18)):
            Rectangle(SKETCH_13_W, SKETCH_13_H)
        with Locations((-33, 0)):
            Rectangle(SKETCH_13_W, SKETCH_13_H)
        with Locations((-33, -18)):
            Rectangle(SKETCH_13_W, SKETCH_13_H)
    extrude(amount=-CUT_EXTRUDE_3_DEPTH, mode=Mode.SUBTRACT)


solid = part.part
